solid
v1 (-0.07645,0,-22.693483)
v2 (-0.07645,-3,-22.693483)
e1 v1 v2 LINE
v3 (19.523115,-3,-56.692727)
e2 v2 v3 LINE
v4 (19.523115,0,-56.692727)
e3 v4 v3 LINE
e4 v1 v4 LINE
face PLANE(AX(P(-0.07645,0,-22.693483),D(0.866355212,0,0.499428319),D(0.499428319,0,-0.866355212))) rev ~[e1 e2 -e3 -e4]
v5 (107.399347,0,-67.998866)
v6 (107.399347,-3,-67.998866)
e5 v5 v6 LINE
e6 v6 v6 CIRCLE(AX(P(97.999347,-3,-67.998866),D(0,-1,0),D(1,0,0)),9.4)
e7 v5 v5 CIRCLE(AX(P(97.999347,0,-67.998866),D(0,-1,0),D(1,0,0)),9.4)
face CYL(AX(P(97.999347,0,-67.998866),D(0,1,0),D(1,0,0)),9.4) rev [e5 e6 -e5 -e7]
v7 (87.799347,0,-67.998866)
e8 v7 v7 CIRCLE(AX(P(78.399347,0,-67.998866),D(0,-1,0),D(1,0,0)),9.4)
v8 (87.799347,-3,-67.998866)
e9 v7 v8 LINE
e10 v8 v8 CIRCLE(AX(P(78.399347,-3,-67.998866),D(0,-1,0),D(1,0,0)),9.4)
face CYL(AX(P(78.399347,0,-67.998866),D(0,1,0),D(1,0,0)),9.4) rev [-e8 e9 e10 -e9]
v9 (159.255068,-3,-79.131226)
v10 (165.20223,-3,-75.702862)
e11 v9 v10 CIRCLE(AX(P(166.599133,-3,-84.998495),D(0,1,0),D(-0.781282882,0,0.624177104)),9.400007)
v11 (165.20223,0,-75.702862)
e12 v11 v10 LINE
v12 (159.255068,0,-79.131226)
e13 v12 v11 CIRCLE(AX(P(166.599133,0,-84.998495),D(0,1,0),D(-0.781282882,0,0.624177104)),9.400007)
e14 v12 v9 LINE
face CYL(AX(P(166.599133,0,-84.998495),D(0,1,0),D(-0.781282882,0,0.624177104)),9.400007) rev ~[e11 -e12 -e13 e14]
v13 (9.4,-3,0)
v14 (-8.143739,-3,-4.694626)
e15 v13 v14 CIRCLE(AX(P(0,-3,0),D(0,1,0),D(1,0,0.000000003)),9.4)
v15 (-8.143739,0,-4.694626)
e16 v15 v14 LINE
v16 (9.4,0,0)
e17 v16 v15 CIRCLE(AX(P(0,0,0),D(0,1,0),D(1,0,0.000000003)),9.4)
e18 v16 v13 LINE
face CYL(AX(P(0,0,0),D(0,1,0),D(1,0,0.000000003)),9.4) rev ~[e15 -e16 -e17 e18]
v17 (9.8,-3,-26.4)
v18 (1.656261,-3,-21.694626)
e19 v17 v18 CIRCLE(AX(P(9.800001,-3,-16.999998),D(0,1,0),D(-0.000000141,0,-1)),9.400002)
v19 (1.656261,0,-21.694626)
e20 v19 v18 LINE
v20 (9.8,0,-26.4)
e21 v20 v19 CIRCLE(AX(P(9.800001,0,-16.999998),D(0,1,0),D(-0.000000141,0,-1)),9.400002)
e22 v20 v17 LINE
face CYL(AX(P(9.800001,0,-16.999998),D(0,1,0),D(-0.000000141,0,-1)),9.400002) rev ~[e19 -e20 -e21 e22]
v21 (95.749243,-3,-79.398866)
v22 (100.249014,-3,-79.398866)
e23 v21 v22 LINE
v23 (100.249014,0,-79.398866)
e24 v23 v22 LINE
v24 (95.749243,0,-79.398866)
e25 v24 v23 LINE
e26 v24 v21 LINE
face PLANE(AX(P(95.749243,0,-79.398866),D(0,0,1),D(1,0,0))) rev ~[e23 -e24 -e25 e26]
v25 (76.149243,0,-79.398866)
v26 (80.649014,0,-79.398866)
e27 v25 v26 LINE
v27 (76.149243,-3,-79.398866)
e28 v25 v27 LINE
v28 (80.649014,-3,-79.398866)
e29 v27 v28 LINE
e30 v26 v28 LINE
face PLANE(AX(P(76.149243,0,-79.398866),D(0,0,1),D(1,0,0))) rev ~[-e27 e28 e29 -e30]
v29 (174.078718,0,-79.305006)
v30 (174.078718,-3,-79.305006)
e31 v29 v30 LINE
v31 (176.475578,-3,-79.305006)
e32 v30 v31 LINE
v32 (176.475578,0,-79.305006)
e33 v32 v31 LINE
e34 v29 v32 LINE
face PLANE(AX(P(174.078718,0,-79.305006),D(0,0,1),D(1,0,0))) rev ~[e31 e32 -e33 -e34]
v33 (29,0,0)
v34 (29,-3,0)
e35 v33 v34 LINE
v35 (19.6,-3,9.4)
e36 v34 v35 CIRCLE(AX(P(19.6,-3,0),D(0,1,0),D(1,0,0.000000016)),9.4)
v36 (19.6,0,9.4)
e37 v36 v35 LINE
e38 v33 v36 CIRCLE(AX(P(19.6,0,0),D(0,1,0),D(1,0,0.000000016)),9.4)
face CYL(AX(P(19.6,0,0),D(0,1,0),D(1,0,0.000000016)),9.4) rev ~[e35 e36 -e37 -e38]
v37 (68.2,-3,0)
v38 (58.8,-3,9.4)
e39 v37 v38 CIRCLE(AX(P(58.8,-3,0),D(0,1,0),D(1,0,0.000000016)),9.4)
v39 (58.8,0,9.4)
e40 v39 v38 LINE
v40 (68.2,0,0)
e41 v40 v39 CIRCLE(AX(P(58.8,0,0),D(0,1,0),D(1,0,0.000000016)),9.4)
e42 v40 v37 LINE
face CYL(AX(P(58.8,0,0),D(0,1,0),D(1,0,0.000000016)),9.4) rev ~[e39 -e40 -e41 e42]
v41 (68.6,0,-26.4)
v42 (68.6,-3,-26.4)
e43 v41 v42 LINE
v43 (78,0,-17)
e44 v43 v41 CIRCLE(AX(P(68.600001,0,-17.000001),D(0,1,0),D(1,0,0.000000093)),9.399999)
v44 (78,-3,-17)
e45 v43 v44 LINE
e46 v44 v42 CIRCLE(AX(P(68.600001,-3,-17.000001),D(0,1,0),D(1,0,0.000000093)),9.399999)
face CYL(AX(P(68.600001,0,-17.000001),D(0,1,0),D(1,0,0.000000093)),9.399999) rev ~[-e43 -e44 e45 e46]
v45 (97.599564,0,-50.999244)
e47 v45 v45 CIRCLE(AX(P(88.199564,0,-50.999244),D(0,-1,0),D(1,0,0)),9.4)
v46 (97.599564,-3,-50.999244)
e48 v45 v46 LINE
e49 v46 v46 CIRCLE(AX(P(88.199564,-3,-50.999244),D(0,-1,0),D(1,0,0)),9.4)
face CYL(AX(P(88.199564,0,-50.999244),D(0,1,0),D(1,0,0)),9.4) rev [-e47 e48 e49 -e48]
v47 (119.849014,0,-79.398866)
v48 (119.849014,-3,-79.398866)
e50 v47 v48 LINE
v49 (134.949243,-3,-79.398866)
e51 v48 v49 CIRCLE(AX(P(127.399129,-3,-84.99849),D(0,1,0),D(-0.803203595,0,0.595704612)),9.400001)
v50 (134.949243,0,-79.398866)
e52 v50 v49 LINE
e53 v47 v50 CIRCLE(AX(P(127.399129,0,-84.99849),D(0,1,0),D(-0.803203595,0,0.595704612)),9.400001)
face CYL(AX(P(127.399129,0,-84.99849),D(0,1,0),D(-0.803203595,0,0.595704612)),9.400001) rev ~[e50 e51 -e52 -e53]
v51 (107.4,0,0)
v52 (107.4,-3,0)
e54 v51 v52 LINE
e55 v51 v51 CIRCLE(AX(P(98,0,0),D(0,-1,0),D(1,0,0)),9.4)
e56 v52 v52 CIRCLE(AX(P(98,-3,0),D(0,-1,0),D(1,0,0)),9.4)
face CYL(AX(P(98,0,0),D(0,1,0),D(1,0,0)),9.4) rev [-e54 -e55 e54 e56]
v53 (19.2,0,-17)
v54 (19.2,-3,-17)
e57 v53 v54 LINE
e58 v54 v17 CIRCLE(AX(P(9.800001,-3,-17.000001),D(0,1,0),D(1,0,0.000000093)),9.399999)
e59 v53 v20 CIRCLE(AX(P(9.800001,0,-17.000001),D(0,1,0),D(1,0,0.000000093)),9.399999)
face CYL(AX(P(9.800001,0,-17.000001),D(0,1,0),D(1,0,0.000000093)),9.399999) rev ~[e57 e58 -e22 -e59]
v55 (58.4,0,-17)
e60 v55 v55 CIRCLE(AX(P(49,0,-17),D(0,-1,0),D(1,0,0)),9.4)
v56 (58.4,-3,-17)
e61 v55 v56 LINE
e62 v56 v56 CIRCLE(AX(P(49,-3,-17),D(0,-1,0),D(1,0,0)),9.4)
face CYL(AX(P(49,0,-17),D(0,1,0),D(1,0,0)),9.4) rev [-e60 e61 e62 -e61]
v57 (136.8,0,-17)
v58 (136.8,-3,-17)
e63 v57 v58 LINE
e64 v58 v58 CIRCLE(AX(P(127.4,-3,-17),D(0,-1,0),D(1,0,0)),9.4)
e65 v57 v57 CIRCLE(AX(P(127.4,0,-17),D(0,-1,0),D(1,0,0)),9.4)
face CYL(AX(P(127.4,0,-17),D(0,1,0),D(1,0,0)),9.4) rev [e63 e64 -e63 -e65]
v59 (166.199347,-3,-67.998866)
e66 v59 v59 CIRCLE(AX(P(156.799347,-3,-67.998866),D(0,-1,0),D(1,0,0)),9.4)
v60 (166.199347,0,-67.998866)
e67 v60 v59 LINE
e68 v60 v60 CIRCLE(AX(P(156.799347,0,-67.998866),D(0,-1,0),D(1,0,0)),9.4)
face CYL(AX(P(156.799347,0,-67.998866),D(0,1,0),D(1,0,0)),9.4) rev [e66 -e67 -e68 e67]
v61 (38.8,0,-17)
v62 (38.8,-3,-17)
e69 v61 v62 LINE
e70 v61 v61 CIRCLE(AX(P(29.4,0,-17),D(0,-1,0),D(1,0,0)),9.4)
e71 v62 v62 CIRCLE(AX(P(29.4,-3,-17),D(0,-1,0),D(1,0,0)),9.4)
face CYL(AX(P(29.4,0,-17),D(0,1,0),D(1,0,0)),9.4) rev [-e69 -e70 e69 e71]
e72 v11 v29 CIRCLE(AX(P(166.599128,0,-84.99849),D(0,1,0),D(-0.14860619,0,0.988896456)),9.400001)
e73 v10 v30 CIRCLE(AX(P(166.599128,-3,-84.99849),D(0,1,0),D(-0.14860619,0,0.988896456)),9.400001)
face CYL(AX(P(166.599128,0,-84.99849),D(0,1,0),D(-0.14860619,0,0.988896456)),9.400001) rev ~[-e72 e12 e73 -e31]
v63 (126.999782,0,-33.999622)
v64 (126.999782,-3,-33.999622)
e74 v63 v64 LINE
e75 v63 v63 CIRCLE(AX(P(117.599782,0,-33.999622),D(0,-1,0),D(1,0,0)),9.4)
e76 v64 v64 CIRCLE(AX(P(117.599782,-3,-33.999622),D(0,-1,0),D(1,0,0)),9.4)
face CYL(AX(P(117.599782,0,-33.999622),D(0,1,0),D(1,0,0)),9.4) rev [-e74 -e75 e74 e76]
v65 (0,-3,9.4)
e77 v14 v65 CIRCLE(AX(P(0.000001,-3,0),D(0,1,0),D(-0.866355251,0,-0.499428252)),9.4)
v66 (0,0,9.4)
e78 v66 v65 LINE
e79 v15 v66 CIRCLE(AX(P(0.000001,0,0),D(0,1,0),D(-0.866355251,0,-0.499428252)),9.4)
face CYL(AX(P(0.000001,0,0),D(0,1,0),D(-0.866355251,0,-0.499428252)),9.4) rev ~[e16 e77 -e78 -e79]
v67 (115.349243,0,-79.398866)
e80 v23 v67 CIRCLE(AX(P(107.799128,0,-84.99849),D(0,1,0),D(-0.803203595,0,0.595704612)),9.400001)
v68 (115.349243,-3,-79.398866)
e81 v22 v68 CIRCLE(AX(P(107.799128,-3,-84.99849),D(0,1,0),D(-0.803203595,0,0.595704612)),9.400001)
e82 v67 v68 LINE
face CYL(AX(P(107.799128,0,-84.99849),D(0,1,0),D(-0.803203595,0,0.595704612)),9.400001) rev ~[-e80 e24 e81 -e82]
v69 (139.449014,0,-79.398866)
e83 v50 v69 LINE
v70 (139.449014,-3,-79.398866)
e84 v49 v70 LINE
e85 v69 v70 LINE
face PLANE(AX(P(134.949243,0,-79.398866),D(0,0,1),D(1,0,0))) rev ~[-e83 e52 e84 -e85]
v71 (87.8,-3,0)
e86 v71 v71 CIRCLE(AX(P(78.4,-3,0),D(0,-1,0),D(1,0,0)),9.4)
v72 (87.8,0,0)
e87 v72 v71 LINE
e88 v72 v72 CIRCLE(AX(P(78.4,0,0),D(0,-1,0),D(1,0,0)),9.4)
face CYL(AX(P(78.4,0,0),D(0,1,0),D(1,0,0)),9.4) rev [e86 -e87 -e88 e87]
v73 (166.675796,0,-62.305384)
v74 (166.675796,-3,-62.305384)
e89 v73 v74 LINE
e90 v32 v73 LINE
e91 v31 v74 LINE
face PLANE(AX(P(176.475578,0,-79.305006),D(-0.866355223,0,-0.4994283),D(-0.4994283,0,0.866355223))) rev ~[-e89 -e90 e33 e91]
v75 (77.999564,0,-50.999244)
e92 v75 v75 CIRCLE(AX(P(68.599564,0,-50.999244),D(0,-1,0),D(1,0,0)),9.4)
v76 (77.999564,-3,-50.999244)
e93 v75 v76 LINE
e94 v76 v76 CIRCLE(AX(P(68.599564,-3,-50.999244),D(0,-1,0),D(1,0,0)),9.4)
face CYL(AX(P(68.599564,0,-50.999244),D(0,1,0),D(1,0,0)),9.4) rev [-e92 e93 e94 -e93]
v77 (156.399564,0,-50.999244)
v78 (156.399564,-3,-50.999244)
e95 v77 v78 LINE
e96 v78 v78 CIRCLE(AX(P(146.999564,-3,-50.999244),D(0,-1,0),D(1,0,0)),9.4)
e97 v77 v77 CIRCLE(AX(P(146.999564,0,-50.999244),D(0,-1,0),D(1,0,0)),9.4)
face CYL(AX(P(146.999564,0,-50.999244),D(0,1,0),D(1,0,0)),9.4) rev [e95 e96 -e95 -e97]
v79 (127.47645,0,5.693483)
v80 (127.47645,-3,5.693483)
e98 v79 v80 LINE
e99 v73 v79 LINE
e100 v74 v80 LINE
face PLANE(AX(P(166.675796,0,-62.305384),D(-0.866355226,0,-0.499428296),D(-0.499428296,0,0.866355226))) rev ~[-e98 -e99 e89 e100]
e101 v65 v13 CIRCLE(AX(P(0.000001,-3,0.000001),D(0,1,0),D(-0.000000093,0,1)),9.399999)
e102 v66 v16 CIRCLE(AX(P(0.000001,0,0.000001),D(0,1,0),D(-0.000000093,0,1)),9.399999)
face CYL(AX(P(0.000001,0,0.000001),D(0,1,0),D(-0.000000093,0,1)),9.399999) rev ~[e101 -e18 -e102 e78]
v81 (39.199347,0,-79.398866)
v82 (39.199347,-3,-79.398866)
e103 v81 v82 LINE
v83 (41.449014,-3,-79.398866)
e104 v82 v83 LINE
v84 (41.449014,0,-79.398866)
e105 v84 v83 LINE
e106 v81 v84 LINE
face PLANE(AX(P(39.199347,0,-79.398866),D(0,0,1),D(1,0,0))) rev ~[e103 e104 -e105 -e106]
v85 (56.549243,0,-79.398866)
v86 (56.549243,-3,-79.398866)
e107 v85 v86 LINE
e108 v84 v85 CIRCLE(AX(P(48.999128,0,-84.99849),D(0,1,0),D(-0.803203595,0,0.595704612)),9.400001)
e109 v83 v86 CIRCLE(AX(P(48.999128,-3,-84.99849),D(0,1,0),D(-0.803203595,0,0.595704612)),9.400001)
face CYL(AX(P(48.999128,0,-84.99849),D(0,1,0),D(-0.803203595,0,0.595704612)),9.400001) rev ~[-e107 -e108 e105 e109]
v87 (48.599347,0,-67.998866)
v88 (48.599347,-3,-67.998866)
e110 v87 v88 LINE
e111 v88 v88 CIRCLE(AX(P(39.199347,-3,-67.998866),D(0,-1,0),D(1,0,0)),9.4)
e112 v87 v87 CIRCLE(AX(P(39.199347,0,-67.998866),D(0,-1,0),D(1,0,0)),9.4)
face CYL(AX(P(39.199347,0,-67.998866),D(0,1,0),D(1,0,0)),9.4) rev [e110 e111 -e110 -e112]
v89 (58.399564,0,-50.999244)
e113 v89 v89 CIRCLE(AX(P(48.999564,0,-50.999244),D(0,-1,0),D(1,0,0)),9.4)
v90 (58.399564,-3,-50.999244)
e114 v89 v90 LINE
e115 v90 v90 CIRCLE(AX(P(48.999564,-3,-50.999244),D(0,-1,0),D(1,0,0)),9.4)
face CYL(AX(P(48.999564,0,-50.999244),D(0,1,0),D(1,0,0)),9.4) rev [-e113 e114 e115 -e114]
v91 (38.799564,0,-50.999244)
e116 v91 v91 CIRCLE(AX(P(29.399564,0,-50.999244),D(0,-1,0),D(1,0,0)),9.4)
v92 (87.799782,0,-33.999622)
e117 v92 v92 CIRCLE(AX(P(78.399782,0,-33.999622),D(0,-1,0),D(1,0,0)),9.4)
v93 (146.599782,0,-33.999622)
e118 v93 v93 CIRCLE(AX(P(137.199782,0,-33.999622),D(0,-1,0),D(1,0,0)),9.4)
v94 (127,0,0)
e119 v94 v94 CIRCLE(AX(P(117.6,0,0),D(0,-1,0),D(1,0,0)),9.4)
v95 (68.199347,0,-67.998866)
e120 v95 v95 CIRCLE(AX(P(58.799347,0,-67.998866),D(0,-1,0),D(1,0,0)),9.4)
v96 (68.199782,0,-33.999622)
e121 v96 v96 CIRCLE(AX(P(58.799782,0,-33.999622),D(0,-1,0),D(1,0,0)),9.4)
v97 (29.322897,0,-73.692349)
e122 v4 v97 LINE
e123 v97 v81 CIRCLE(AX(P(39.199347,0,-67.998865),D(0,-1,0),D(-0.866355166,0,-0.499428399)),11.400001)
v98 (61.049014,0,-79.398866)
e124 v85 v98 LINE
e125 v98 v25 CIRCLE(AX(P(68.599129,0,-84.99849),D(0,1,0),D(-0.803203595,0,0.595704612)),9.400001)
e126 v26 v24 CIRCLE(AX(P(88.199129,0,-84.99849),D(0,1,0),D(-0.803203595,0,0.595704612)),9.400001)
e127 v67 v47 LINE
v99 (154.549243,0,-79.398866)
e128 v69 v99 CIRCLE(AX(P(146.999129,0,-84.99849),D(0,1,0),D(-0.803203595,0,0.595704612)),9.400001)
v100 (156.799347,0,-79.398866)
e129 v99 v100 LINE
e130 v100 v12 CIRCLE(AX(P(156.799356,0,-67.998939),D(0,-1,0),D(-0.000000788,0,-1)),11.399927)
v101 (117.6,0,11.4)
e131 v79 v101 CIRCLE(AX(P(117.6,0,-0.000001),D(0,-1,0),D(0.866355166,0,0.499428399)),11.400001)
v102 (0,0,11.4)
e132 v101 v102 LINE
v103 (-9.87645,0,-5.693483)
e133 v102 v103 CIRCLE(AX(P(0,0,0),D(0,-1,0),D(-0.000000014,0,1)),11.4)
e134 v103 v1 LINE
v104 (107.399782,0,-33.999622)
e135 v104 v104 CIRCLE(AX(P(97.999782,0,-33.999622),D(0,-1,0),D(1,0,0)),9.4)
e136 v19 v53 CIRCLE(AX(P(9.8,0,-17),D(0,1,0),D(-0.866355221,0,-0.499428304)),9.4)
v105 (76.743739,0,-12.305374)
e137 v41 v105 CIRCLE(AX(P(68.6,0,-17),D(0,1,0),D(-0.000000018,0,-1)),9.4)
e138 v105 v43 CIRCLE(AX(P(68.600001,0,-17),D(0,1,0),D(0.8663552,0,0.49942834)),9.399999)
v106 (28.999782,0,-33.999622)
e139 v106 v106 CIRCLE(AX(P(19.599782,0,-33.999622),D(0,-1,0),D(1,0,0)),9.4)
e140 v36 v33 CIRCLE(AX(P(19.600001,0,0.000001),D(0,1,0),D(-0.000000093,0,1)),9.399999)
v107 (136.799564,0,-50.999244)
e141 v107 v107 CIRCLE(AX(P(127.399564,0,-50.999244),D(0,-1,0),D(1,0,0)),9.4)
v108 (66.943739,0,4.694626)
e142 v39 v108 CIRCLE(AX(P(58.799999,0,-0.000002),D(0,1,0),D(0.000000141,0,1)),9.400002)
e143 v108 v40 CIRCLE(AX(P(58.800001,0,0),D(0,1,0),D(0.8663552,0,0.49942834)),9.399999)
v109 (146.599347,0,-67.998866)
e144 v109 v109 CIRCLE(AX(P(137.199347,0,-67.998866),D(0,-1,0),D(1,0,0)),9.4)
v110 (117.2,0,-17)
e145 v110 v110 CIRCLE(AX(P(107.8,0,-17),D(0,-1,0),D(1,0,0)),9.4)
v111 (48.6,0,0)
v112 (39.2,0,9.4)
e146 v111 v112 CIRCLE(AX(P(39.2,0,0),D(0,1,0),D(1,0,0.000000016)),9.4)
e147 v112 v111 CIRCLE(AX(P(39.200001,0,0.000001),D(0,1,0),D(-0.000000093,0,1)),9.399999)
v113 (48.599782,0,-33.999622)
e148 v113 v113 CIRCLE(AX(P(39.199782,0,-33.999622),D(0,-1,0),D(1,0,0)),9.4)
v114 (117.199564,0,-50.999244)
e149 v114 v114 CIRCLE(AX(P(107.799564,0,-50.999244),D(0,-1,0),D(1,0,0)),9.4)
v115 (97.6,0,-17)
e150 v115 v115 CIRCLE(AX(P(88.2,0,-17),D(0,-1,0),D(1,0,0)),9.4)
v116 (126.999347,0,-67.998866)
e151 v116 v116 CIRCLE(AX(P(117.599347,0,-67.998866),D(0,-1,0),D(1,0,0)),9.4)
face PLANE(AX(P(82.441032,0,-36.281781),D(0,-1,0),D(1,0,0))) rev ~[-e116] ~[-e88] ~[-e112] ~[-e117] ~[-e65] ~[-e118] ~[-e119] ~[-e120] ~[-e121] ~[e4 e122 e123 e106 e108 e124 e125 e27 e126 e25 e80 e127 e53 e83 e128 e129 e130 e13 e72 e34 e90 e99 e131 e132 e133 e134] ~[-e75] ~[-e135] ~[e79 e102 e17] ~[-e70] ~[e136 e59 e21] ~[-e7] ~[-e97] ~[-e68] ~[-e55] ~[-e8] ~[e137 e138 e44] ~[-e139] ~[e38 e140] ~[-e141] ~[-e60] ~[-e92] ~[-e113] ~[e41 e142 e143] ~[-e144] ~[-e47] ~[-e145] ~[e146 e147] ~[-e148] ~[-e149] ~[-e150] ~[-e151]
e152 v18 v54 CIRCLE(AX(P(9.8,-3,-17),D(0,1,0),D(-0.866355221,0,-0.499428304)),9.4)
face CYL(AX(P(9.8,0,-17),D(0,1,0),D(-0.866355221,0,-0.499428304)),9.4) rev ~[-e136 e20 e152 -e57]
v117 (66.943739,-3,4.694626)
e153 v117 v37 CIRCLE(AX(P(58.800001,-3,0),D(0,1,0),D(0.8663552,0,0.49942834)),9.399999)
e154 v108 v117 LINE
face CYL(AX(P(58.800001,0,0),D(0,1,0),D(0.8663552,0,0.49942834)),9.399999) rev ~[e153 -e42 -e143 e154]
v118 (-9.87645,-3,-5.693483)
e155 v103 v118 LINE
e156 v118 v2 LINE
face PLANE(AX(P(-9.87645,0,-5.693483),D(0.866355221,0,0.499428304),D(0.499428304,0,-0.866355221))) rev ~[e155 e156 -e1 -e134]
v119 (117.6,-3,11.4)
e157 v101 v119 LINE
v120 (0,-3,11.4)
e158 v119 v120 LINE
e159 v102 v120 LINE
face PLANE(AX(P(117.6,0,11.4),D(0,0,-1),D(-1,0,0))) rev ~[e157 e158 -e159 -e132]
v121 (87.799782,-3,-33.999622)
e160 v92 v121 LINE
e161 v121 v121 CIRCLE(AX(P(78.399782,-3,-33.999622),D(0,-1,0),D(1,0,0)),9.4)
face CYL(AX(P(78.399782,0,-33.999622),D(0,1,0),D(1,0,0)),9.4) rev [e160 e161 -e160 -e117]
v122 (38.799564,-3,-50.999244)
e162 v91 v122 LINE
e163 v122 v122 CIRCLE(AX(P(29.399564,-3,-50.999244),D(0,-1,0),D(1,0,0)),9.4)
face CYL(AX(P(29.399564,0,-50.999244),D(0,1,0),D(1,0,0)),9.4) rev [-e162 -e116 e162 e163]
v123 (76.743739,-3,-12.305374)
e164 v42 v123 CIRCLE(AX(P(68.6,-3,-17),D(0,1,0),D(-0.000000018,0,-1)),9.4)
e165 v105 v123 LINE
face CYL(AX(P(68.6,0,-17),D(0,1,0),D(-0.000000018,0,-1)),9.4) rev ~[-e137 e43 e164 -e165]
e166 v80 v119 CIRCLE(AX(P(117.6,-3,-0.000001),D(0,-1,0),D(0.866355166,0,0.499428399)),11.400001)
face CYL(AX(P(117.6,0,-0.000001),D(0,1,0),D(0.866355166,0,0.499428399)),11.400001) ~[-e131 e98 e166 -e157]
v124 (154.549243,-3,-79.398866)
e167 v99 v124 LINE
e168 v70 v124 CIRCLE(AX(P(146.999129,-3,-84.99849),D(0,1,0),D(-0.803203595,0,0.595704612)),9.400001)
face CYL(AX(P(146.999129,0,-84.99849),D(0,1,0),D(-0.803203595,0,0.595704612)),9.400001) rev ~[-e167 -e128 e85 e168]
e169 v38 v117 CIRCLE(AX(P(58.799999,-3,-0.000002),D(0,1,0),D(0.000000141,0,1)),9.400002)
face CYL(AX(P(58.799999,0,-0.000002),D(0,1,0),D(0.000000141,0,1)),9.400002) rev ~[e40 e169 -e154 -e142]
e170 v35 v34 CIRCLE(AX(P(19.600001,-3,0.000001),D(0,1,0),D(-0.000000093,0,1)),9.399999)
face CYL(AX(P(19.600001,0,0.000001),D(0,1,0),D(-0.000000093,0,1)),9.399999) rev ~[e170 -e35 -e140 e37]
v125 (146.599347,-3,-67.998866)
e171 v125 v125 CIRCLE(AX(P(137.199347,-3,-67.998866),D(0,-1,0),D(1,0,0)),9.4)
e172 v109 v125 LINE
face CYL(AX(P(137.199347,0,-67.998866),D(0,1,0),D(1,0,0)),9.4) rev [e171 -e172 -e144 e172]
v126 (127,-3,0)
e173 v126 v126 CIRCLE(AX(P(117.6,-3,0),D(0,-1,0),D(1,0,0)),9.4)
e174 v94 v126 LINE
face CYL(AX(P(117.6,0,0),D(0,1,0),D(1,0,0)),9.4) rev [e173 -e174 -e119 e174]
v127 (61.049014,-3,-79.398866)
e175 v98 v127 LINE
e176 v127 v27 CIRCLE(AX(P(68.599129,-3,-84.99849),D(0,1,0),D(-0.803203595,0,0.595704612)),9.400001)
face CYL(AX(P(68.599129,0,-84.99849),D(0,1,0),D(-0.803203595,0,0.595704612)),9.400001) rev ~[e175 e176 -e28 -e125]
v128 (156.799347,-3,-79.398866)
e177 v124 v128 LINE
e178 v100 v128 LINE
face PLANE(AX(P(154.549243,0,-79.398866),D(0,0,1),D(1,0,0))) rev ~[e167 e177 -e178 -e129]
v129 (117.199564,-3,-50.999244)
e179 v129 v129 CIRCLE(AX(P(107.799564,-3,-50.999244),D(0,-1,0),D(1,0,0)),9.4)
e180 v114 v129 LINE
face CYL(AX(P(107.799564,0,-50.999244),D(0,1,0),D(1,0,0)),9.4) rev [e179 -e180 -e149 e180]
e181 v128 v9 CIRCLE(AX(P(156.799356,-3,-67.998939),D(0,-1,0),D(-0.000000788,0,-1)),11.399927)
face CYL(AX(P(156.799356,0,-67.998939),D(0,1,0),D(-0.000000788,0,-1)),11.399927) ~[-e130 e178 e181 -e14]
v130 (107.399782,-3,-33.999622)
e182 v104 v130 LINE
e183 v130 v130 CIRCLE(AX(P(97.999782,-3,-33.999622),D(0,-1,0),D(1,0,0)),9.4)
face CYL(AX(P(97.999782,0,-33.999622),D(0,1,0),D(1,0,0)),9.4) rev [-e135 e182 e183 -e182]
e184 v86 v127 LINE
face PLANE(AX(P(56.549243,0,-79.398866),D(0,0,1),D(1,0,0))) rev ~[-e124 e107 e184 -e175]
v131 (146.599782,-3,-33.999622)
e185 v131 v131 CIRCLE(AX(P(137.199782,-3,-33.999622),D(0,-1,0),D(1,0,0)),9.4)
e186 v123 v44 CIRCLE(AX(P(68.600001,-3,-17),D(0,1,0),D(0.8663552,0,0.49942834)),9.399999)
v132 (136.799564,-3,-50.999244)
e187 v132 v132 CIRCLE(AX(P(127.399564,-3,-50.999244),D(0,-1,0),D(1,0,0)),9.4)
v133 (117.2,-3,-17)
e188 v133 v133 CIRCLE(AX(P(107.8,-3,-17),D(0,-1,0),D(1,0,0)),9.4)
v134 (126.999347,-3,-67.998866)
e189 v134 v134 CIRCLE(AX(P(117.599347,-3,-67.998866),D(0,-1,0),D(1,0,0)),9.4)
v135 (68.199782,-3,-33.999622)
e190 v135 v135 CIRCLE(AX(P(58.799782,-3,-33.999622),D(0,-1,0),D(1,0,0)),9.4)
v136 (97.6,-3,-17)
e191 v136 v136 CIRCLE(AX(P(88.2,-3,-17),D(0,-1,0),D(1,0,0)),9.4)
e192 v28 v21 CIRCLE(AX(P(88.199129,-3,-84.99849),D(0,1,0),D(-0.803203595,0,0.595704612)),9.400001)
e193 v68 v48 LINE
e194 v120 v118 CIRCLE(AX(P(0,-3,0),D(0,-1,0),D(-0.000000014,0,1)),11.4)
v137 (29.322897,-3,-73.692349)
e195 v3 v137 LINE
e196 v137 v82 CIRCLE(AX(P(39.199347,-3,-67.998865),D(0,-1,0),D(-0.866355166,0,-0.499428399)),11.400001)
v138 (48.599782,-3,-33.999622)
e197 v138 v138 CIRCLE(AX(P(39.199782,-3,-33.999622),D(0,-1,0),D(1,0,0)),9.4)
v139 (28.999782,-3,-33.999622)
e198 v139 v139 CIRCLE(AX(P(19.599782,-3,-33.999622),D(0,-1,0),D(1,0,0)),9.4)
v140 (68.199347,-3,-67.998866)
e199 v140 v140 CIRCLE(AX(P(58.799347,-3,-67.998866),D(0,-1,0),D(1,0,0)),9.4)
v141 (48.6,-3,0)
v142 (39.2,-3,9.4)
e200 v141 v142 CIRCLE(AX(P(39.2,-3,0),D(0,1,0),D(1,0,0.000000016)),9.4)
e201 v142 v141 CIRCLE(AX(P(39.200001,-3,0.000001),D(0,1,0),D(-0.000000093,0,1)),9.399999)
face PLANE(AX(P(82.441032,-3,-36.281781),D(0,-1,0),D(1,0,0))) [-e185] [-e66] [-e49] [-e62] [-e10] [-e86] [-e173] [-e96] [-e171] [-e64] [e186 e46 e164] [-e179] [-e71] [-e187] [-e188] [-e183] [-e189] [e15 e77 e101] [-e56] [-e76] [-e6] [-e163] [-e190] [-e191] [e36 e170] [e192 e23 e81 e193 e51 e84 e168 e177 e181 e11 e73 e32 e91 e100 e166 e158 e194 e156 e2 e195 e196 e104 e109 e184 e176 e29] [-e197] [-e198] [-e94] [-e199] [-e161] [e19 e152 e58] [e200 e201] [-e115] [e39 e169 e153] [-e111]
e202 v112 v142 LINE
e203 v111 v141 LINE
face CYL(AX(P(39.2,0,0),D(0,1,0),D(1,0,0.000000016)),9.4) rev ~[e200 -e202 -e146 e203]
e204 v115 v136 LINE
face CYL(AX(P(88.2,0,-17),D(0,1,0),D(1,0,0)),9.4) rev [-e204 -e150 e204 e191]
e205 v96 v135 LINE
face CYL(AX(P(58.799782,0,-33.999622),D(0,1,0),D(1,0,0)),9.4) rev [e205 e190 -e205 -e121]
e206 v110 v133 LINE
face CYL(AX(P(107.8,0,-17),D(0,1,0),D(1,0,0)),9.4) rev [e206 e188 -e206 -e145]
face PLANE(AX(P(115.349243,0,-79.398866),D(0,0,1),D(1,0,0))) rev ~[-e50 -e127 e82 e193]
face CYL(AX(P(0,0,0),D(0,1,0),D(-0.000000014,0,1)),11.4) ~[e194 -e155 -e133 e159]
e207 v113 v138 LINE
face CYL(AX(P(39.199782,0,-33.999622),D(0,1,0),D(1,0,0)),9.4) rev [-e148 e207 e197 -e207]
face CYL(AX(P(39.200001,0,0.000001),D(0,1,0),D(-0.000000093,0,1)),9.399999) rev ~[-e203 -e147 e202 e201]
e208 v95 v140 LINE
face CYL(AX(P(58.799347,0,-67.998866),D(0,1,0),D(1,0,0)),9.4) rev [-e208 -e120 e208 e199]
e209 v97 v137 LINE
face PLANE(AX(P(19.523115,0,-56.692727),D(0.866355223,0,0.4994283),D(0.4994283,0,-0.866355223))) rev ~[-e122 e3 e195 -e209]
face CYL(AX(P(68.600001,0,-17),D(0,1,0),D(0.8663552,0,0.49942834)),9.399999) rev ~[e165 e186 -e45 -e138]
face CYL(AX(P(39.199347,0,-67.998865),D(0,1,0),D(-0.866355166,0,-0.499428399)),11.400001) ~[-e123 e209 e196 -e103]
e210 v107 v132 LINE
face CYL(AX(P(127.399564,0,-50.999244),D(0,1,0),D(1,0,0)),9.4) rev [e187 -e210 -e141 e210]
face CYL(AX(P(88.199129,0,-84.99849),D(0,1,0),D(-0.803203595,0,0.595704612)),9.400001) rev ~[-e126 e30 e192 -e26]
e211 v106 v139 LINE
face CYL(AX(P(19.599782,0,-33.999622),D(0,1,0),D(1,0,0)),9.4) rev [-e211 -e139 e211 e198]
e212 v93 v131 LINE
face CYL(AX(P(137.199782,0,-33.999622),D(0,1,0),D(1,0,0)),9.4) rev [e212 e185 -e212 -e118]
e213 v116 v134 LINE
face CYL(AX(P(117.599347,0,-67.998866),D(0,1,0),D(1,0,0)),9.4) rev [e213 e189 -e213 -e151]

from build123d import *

# Parameters (mm, degrees)
F0_R     = 9.4
F1_DEPTH = 3


with BuildPart() as f1:
    # F0 (on Front) → F1 (new body)
    with BuildSketch(Plane.XZ):
        with BuildLine():
            Line((58.8, 11.4), (0, 11.4))
            ThreePointArc((0, 11.4), (-9.870808, 5.703258), (-9.87645, -5.693483))
            Line((-9.87645, -5.693483), (-0.07645, -22.693483))
            Line((-0.07645, -22.693483), (19.523115, -56.692727))
            Line((19.523115, -56.692727), (29.322897, -73.692349))
            ThreePointArc((29.322897, -73.692349), (33.496089, -77.869674), (39.199347, -79.398866))
            Line((39.199347, -79.398866), (41.449014, -79.398866))
            ThreePointArc((41.449014, -79.398866), (48.999129, -75.598489), (56.549243, -79.398866))
            Line((56.549243, -79.398866), (61.049014, -79.398866))
            ThreePointArc((61.049014, -79.398866), (68.599129, -75.598489), (76.149243, -79.398866))
            Line((76.149243, -79.398866), (80.649014, -79.398866))
            ThreePointArc((80.649014, -79.398866), (88.199129, -75.598489), (95.749243, -79.398866))
            Line((95.749243, -79.398866), (100.249014, -79.398866))
            ThreePointArc((100.249014, -79.398866), (107.799129, -75.598489), (115.349243, -79.398866))
            Line((115.349243, -79.398866), (119.849014, -79.398866))
            ThreePointArc((119.849014, -79.398866), (127.399129, -75.598489), (134.949243, -79.398866))
            Line((134.949243, -79.398866), (139.449014, -79.398866))
            ThreePointArc((139.449014, -79.398866), (146.999129, -75.598489), (154.549243, -79.398866))
            Line((154.549243, -79.398866), (156.799347, -79.398866))
            ThreePointArc((156.799347, -79.398866), (158.034478, -79.331759), (159.255068, -79.131226))
            ThreePointArc((159.255068, -79.131226), (161.904503, -76.85475), (165.20223, -75.702862))
            ThreePointArc((165.20223, -75.702862), (170.133763, -76.288359), (174.078718, -79.305006))
            Line((174.078718, -79.305006), (176.475578, -79.305006))
            Line((176.475578, -79.305006), (166.675796, -62.305384))
            Line((166.675796, -62.305384), (127.47645, 5.693483))
            ThreePointArc((127.47645, 5.693483), (123.303258, 9.870808), (117.6, 11.4))
            Line((117.6, 11.4), (98, 11.4))
            Line((98, 11.4), (58.8, 11.4))
        make_face()
        with Locations((39.199347, -67.998866)):
            Circle(F0_R, mode=Mode.SUBTRACT)
        with Locations((58.799347, -67.998866)):
            Circle(F0_R, mode=Mode.SUBTRACT)
        with Locations((78.399347, -67.998866)):
            Circle(F0_R, mode=Mode.SUBTRACT)
        with Locations((29.399564, -50.999244)):
            Circle(F0_R, mode=Mode.SUBTRACT)
        with Locations((19.599782, -33.999622)):
            Circle(F0_R, mode=Mode.SUBTRACT)
        with Locations((48.999564, -50.999244)):
            Circle(F0_R, mode=Mode.SUBTRACT)
        with Locations((68.599564, -50.999244)):
            Circle(F0_R, mode=Mode.SUBTRACT)
        with Locations((39.199782, -33.999622)):
            Circle(F0_R, mode=Mode.SUBTRACT)
        with Locations((58.799782, -33.999622)):
            Circle(F0_R, mode=Mode.SUBTRACT)
        with Locations((78.399782, -33.999622)):
            Circle(F0_R, mode=Mode.SUBTRACT)
        with Locations((97.999347, -67.998866)):
            Circle(F0_R, mode=Mode.SUBTRACT)
        with Locations((117.599347, -67.998866)):
            Circle(F0_R, mode=Mode.SUBTRACT)
        with Locations((137.199347, -67.998866)):
            Circle(F0_R, mode=Mode.SUBTRACT)
        with Locations((156.799347, -67.998866)):
            Circle(F0_R, mode=Mode.SUBTRACT)
        with Locations((88.199564, -50.999244)):
            Circle(F0_R, mode=Mode.SUBTRACT)
        with Locations((107.799564, -50.999244)):
            Circle(F0_R, mode=Mode.SUBTRACT)
        with Locations((127.399564, -50.999244)):
            Circle(F0_R, mode=Mode.SUBTRACT)
        with Locations((97.999782, -33.999622)):
            Circle(F0_R, mode=Mode.SUBTRACT)
        with Locations((117.599782, -33.999622)):
            Circle(F0_R, mode=Mode.SUBTRACT)
        with Locations((146.999564, -50.999244)):
            Circle(F0_R, mode=Mode.SUBTRACT)
        with Locations((137.199782, -33.999622)):
            Circle(F0_R, mode=Mode.SUBTRACT)
        with BuildLine():
            ThreePointArc((9.8, -26.4), (5.097314, -25.139087), (1.656261, -21.694626))
            ThreePointArc((1.656261, -21.694626), (7.370097, -7.919495), (19.2, -17))
            ThreePointArc((19.2, -17), (16.446804, -23.646804), (9.8, -26.4))
        make_face(mode=Mode.SUBTRACT)
        with Locations((29.4, -17)):
            Circle(F0_R, mode=Mode.SUBTRACT)
        with Locations((49, -17)):
            Circle(F0_R, mode=Mode.SUBTRACT)
        with BuildLine():
            ThreePointArc((76.743739, -12.305374), (77.680505, -14.570097), (78, -17))
            ThreePointArc((78, -17), (75.246804, -23.646804), (68.6, -26.4))
            ThreePointArc((68.6, -26.4), (60.460913, -12.297314), (76.743739, -12.305374))
        make_face(mode=Mode.SUBTRACT)
        with BuildLine():
            ThreePointArc((0, 9.4), (6.646804, 6.646804), (9.4, 0))
            ThreePointArc((9.4, 0), (2.429903, -9.080505), (-8.143739, -4.694626))
            ThreePointArc((-8.143739, -4.694626), (-8.139087, 4.702686), (0, 9.4))
        make_face(mode=Mode.SUBTRACT)
        with BuildLine():
            ThreePointArc((29, 0), (12.953196, -6.646804), (19.6, 9.4))
            ThreePointArc((19.6, 9.4), (26.246804, 6.646804), (29, 0))
        make_face(mode=Mode.SUBTRACT)
        with BuildLine():
            ThreePointArc((48.6, 0), (32.553196, -6.646804), (39.2, 9.4))
            ThreePointArc((39.2, 9.4), (45.846804, 6.646804), (48.6, 0))
        make_face(mode=Mode.SUBTRACT)
        with BuildLine():
            ThreePointArc((68.2, 0), (52.153196, -6.646804), (58.8, 9.4))
            ThreePointArc((58.8, 9.4), (63.502686, 8.139087), (66.943739, 4.694626))
            ThreePointArc((66.943739, 4.694626), (67.880505, 2.429903), (68.2, 0))
        make_face(mode=Mode.SUBTRACT)
        with Locations((78.4, 0)):
            Circle(F0_R, mode=Mode.SUBTRACT)
        with Locations((88.2, -17)):
            Circle(F0_R, mode=Mode.SUBTRACT)
        with Locations((107.8, -17)):
            Circle(F0_R, mode=Mode.SUBTRACT)
        with Locations((127.4, -17)):
            Circle(F0_R, mode=Mode.SUBTRACT)
        with Locations((98, 0)):
            Circle(F0_R, mode=Mode.SUBTRACT)
        with Locations((117.6, 0)):
            Circle(F0_R, mode=Mode.SUBTRACT)
    extrude(amount=F1_DEPTH)


solid = f1.part
